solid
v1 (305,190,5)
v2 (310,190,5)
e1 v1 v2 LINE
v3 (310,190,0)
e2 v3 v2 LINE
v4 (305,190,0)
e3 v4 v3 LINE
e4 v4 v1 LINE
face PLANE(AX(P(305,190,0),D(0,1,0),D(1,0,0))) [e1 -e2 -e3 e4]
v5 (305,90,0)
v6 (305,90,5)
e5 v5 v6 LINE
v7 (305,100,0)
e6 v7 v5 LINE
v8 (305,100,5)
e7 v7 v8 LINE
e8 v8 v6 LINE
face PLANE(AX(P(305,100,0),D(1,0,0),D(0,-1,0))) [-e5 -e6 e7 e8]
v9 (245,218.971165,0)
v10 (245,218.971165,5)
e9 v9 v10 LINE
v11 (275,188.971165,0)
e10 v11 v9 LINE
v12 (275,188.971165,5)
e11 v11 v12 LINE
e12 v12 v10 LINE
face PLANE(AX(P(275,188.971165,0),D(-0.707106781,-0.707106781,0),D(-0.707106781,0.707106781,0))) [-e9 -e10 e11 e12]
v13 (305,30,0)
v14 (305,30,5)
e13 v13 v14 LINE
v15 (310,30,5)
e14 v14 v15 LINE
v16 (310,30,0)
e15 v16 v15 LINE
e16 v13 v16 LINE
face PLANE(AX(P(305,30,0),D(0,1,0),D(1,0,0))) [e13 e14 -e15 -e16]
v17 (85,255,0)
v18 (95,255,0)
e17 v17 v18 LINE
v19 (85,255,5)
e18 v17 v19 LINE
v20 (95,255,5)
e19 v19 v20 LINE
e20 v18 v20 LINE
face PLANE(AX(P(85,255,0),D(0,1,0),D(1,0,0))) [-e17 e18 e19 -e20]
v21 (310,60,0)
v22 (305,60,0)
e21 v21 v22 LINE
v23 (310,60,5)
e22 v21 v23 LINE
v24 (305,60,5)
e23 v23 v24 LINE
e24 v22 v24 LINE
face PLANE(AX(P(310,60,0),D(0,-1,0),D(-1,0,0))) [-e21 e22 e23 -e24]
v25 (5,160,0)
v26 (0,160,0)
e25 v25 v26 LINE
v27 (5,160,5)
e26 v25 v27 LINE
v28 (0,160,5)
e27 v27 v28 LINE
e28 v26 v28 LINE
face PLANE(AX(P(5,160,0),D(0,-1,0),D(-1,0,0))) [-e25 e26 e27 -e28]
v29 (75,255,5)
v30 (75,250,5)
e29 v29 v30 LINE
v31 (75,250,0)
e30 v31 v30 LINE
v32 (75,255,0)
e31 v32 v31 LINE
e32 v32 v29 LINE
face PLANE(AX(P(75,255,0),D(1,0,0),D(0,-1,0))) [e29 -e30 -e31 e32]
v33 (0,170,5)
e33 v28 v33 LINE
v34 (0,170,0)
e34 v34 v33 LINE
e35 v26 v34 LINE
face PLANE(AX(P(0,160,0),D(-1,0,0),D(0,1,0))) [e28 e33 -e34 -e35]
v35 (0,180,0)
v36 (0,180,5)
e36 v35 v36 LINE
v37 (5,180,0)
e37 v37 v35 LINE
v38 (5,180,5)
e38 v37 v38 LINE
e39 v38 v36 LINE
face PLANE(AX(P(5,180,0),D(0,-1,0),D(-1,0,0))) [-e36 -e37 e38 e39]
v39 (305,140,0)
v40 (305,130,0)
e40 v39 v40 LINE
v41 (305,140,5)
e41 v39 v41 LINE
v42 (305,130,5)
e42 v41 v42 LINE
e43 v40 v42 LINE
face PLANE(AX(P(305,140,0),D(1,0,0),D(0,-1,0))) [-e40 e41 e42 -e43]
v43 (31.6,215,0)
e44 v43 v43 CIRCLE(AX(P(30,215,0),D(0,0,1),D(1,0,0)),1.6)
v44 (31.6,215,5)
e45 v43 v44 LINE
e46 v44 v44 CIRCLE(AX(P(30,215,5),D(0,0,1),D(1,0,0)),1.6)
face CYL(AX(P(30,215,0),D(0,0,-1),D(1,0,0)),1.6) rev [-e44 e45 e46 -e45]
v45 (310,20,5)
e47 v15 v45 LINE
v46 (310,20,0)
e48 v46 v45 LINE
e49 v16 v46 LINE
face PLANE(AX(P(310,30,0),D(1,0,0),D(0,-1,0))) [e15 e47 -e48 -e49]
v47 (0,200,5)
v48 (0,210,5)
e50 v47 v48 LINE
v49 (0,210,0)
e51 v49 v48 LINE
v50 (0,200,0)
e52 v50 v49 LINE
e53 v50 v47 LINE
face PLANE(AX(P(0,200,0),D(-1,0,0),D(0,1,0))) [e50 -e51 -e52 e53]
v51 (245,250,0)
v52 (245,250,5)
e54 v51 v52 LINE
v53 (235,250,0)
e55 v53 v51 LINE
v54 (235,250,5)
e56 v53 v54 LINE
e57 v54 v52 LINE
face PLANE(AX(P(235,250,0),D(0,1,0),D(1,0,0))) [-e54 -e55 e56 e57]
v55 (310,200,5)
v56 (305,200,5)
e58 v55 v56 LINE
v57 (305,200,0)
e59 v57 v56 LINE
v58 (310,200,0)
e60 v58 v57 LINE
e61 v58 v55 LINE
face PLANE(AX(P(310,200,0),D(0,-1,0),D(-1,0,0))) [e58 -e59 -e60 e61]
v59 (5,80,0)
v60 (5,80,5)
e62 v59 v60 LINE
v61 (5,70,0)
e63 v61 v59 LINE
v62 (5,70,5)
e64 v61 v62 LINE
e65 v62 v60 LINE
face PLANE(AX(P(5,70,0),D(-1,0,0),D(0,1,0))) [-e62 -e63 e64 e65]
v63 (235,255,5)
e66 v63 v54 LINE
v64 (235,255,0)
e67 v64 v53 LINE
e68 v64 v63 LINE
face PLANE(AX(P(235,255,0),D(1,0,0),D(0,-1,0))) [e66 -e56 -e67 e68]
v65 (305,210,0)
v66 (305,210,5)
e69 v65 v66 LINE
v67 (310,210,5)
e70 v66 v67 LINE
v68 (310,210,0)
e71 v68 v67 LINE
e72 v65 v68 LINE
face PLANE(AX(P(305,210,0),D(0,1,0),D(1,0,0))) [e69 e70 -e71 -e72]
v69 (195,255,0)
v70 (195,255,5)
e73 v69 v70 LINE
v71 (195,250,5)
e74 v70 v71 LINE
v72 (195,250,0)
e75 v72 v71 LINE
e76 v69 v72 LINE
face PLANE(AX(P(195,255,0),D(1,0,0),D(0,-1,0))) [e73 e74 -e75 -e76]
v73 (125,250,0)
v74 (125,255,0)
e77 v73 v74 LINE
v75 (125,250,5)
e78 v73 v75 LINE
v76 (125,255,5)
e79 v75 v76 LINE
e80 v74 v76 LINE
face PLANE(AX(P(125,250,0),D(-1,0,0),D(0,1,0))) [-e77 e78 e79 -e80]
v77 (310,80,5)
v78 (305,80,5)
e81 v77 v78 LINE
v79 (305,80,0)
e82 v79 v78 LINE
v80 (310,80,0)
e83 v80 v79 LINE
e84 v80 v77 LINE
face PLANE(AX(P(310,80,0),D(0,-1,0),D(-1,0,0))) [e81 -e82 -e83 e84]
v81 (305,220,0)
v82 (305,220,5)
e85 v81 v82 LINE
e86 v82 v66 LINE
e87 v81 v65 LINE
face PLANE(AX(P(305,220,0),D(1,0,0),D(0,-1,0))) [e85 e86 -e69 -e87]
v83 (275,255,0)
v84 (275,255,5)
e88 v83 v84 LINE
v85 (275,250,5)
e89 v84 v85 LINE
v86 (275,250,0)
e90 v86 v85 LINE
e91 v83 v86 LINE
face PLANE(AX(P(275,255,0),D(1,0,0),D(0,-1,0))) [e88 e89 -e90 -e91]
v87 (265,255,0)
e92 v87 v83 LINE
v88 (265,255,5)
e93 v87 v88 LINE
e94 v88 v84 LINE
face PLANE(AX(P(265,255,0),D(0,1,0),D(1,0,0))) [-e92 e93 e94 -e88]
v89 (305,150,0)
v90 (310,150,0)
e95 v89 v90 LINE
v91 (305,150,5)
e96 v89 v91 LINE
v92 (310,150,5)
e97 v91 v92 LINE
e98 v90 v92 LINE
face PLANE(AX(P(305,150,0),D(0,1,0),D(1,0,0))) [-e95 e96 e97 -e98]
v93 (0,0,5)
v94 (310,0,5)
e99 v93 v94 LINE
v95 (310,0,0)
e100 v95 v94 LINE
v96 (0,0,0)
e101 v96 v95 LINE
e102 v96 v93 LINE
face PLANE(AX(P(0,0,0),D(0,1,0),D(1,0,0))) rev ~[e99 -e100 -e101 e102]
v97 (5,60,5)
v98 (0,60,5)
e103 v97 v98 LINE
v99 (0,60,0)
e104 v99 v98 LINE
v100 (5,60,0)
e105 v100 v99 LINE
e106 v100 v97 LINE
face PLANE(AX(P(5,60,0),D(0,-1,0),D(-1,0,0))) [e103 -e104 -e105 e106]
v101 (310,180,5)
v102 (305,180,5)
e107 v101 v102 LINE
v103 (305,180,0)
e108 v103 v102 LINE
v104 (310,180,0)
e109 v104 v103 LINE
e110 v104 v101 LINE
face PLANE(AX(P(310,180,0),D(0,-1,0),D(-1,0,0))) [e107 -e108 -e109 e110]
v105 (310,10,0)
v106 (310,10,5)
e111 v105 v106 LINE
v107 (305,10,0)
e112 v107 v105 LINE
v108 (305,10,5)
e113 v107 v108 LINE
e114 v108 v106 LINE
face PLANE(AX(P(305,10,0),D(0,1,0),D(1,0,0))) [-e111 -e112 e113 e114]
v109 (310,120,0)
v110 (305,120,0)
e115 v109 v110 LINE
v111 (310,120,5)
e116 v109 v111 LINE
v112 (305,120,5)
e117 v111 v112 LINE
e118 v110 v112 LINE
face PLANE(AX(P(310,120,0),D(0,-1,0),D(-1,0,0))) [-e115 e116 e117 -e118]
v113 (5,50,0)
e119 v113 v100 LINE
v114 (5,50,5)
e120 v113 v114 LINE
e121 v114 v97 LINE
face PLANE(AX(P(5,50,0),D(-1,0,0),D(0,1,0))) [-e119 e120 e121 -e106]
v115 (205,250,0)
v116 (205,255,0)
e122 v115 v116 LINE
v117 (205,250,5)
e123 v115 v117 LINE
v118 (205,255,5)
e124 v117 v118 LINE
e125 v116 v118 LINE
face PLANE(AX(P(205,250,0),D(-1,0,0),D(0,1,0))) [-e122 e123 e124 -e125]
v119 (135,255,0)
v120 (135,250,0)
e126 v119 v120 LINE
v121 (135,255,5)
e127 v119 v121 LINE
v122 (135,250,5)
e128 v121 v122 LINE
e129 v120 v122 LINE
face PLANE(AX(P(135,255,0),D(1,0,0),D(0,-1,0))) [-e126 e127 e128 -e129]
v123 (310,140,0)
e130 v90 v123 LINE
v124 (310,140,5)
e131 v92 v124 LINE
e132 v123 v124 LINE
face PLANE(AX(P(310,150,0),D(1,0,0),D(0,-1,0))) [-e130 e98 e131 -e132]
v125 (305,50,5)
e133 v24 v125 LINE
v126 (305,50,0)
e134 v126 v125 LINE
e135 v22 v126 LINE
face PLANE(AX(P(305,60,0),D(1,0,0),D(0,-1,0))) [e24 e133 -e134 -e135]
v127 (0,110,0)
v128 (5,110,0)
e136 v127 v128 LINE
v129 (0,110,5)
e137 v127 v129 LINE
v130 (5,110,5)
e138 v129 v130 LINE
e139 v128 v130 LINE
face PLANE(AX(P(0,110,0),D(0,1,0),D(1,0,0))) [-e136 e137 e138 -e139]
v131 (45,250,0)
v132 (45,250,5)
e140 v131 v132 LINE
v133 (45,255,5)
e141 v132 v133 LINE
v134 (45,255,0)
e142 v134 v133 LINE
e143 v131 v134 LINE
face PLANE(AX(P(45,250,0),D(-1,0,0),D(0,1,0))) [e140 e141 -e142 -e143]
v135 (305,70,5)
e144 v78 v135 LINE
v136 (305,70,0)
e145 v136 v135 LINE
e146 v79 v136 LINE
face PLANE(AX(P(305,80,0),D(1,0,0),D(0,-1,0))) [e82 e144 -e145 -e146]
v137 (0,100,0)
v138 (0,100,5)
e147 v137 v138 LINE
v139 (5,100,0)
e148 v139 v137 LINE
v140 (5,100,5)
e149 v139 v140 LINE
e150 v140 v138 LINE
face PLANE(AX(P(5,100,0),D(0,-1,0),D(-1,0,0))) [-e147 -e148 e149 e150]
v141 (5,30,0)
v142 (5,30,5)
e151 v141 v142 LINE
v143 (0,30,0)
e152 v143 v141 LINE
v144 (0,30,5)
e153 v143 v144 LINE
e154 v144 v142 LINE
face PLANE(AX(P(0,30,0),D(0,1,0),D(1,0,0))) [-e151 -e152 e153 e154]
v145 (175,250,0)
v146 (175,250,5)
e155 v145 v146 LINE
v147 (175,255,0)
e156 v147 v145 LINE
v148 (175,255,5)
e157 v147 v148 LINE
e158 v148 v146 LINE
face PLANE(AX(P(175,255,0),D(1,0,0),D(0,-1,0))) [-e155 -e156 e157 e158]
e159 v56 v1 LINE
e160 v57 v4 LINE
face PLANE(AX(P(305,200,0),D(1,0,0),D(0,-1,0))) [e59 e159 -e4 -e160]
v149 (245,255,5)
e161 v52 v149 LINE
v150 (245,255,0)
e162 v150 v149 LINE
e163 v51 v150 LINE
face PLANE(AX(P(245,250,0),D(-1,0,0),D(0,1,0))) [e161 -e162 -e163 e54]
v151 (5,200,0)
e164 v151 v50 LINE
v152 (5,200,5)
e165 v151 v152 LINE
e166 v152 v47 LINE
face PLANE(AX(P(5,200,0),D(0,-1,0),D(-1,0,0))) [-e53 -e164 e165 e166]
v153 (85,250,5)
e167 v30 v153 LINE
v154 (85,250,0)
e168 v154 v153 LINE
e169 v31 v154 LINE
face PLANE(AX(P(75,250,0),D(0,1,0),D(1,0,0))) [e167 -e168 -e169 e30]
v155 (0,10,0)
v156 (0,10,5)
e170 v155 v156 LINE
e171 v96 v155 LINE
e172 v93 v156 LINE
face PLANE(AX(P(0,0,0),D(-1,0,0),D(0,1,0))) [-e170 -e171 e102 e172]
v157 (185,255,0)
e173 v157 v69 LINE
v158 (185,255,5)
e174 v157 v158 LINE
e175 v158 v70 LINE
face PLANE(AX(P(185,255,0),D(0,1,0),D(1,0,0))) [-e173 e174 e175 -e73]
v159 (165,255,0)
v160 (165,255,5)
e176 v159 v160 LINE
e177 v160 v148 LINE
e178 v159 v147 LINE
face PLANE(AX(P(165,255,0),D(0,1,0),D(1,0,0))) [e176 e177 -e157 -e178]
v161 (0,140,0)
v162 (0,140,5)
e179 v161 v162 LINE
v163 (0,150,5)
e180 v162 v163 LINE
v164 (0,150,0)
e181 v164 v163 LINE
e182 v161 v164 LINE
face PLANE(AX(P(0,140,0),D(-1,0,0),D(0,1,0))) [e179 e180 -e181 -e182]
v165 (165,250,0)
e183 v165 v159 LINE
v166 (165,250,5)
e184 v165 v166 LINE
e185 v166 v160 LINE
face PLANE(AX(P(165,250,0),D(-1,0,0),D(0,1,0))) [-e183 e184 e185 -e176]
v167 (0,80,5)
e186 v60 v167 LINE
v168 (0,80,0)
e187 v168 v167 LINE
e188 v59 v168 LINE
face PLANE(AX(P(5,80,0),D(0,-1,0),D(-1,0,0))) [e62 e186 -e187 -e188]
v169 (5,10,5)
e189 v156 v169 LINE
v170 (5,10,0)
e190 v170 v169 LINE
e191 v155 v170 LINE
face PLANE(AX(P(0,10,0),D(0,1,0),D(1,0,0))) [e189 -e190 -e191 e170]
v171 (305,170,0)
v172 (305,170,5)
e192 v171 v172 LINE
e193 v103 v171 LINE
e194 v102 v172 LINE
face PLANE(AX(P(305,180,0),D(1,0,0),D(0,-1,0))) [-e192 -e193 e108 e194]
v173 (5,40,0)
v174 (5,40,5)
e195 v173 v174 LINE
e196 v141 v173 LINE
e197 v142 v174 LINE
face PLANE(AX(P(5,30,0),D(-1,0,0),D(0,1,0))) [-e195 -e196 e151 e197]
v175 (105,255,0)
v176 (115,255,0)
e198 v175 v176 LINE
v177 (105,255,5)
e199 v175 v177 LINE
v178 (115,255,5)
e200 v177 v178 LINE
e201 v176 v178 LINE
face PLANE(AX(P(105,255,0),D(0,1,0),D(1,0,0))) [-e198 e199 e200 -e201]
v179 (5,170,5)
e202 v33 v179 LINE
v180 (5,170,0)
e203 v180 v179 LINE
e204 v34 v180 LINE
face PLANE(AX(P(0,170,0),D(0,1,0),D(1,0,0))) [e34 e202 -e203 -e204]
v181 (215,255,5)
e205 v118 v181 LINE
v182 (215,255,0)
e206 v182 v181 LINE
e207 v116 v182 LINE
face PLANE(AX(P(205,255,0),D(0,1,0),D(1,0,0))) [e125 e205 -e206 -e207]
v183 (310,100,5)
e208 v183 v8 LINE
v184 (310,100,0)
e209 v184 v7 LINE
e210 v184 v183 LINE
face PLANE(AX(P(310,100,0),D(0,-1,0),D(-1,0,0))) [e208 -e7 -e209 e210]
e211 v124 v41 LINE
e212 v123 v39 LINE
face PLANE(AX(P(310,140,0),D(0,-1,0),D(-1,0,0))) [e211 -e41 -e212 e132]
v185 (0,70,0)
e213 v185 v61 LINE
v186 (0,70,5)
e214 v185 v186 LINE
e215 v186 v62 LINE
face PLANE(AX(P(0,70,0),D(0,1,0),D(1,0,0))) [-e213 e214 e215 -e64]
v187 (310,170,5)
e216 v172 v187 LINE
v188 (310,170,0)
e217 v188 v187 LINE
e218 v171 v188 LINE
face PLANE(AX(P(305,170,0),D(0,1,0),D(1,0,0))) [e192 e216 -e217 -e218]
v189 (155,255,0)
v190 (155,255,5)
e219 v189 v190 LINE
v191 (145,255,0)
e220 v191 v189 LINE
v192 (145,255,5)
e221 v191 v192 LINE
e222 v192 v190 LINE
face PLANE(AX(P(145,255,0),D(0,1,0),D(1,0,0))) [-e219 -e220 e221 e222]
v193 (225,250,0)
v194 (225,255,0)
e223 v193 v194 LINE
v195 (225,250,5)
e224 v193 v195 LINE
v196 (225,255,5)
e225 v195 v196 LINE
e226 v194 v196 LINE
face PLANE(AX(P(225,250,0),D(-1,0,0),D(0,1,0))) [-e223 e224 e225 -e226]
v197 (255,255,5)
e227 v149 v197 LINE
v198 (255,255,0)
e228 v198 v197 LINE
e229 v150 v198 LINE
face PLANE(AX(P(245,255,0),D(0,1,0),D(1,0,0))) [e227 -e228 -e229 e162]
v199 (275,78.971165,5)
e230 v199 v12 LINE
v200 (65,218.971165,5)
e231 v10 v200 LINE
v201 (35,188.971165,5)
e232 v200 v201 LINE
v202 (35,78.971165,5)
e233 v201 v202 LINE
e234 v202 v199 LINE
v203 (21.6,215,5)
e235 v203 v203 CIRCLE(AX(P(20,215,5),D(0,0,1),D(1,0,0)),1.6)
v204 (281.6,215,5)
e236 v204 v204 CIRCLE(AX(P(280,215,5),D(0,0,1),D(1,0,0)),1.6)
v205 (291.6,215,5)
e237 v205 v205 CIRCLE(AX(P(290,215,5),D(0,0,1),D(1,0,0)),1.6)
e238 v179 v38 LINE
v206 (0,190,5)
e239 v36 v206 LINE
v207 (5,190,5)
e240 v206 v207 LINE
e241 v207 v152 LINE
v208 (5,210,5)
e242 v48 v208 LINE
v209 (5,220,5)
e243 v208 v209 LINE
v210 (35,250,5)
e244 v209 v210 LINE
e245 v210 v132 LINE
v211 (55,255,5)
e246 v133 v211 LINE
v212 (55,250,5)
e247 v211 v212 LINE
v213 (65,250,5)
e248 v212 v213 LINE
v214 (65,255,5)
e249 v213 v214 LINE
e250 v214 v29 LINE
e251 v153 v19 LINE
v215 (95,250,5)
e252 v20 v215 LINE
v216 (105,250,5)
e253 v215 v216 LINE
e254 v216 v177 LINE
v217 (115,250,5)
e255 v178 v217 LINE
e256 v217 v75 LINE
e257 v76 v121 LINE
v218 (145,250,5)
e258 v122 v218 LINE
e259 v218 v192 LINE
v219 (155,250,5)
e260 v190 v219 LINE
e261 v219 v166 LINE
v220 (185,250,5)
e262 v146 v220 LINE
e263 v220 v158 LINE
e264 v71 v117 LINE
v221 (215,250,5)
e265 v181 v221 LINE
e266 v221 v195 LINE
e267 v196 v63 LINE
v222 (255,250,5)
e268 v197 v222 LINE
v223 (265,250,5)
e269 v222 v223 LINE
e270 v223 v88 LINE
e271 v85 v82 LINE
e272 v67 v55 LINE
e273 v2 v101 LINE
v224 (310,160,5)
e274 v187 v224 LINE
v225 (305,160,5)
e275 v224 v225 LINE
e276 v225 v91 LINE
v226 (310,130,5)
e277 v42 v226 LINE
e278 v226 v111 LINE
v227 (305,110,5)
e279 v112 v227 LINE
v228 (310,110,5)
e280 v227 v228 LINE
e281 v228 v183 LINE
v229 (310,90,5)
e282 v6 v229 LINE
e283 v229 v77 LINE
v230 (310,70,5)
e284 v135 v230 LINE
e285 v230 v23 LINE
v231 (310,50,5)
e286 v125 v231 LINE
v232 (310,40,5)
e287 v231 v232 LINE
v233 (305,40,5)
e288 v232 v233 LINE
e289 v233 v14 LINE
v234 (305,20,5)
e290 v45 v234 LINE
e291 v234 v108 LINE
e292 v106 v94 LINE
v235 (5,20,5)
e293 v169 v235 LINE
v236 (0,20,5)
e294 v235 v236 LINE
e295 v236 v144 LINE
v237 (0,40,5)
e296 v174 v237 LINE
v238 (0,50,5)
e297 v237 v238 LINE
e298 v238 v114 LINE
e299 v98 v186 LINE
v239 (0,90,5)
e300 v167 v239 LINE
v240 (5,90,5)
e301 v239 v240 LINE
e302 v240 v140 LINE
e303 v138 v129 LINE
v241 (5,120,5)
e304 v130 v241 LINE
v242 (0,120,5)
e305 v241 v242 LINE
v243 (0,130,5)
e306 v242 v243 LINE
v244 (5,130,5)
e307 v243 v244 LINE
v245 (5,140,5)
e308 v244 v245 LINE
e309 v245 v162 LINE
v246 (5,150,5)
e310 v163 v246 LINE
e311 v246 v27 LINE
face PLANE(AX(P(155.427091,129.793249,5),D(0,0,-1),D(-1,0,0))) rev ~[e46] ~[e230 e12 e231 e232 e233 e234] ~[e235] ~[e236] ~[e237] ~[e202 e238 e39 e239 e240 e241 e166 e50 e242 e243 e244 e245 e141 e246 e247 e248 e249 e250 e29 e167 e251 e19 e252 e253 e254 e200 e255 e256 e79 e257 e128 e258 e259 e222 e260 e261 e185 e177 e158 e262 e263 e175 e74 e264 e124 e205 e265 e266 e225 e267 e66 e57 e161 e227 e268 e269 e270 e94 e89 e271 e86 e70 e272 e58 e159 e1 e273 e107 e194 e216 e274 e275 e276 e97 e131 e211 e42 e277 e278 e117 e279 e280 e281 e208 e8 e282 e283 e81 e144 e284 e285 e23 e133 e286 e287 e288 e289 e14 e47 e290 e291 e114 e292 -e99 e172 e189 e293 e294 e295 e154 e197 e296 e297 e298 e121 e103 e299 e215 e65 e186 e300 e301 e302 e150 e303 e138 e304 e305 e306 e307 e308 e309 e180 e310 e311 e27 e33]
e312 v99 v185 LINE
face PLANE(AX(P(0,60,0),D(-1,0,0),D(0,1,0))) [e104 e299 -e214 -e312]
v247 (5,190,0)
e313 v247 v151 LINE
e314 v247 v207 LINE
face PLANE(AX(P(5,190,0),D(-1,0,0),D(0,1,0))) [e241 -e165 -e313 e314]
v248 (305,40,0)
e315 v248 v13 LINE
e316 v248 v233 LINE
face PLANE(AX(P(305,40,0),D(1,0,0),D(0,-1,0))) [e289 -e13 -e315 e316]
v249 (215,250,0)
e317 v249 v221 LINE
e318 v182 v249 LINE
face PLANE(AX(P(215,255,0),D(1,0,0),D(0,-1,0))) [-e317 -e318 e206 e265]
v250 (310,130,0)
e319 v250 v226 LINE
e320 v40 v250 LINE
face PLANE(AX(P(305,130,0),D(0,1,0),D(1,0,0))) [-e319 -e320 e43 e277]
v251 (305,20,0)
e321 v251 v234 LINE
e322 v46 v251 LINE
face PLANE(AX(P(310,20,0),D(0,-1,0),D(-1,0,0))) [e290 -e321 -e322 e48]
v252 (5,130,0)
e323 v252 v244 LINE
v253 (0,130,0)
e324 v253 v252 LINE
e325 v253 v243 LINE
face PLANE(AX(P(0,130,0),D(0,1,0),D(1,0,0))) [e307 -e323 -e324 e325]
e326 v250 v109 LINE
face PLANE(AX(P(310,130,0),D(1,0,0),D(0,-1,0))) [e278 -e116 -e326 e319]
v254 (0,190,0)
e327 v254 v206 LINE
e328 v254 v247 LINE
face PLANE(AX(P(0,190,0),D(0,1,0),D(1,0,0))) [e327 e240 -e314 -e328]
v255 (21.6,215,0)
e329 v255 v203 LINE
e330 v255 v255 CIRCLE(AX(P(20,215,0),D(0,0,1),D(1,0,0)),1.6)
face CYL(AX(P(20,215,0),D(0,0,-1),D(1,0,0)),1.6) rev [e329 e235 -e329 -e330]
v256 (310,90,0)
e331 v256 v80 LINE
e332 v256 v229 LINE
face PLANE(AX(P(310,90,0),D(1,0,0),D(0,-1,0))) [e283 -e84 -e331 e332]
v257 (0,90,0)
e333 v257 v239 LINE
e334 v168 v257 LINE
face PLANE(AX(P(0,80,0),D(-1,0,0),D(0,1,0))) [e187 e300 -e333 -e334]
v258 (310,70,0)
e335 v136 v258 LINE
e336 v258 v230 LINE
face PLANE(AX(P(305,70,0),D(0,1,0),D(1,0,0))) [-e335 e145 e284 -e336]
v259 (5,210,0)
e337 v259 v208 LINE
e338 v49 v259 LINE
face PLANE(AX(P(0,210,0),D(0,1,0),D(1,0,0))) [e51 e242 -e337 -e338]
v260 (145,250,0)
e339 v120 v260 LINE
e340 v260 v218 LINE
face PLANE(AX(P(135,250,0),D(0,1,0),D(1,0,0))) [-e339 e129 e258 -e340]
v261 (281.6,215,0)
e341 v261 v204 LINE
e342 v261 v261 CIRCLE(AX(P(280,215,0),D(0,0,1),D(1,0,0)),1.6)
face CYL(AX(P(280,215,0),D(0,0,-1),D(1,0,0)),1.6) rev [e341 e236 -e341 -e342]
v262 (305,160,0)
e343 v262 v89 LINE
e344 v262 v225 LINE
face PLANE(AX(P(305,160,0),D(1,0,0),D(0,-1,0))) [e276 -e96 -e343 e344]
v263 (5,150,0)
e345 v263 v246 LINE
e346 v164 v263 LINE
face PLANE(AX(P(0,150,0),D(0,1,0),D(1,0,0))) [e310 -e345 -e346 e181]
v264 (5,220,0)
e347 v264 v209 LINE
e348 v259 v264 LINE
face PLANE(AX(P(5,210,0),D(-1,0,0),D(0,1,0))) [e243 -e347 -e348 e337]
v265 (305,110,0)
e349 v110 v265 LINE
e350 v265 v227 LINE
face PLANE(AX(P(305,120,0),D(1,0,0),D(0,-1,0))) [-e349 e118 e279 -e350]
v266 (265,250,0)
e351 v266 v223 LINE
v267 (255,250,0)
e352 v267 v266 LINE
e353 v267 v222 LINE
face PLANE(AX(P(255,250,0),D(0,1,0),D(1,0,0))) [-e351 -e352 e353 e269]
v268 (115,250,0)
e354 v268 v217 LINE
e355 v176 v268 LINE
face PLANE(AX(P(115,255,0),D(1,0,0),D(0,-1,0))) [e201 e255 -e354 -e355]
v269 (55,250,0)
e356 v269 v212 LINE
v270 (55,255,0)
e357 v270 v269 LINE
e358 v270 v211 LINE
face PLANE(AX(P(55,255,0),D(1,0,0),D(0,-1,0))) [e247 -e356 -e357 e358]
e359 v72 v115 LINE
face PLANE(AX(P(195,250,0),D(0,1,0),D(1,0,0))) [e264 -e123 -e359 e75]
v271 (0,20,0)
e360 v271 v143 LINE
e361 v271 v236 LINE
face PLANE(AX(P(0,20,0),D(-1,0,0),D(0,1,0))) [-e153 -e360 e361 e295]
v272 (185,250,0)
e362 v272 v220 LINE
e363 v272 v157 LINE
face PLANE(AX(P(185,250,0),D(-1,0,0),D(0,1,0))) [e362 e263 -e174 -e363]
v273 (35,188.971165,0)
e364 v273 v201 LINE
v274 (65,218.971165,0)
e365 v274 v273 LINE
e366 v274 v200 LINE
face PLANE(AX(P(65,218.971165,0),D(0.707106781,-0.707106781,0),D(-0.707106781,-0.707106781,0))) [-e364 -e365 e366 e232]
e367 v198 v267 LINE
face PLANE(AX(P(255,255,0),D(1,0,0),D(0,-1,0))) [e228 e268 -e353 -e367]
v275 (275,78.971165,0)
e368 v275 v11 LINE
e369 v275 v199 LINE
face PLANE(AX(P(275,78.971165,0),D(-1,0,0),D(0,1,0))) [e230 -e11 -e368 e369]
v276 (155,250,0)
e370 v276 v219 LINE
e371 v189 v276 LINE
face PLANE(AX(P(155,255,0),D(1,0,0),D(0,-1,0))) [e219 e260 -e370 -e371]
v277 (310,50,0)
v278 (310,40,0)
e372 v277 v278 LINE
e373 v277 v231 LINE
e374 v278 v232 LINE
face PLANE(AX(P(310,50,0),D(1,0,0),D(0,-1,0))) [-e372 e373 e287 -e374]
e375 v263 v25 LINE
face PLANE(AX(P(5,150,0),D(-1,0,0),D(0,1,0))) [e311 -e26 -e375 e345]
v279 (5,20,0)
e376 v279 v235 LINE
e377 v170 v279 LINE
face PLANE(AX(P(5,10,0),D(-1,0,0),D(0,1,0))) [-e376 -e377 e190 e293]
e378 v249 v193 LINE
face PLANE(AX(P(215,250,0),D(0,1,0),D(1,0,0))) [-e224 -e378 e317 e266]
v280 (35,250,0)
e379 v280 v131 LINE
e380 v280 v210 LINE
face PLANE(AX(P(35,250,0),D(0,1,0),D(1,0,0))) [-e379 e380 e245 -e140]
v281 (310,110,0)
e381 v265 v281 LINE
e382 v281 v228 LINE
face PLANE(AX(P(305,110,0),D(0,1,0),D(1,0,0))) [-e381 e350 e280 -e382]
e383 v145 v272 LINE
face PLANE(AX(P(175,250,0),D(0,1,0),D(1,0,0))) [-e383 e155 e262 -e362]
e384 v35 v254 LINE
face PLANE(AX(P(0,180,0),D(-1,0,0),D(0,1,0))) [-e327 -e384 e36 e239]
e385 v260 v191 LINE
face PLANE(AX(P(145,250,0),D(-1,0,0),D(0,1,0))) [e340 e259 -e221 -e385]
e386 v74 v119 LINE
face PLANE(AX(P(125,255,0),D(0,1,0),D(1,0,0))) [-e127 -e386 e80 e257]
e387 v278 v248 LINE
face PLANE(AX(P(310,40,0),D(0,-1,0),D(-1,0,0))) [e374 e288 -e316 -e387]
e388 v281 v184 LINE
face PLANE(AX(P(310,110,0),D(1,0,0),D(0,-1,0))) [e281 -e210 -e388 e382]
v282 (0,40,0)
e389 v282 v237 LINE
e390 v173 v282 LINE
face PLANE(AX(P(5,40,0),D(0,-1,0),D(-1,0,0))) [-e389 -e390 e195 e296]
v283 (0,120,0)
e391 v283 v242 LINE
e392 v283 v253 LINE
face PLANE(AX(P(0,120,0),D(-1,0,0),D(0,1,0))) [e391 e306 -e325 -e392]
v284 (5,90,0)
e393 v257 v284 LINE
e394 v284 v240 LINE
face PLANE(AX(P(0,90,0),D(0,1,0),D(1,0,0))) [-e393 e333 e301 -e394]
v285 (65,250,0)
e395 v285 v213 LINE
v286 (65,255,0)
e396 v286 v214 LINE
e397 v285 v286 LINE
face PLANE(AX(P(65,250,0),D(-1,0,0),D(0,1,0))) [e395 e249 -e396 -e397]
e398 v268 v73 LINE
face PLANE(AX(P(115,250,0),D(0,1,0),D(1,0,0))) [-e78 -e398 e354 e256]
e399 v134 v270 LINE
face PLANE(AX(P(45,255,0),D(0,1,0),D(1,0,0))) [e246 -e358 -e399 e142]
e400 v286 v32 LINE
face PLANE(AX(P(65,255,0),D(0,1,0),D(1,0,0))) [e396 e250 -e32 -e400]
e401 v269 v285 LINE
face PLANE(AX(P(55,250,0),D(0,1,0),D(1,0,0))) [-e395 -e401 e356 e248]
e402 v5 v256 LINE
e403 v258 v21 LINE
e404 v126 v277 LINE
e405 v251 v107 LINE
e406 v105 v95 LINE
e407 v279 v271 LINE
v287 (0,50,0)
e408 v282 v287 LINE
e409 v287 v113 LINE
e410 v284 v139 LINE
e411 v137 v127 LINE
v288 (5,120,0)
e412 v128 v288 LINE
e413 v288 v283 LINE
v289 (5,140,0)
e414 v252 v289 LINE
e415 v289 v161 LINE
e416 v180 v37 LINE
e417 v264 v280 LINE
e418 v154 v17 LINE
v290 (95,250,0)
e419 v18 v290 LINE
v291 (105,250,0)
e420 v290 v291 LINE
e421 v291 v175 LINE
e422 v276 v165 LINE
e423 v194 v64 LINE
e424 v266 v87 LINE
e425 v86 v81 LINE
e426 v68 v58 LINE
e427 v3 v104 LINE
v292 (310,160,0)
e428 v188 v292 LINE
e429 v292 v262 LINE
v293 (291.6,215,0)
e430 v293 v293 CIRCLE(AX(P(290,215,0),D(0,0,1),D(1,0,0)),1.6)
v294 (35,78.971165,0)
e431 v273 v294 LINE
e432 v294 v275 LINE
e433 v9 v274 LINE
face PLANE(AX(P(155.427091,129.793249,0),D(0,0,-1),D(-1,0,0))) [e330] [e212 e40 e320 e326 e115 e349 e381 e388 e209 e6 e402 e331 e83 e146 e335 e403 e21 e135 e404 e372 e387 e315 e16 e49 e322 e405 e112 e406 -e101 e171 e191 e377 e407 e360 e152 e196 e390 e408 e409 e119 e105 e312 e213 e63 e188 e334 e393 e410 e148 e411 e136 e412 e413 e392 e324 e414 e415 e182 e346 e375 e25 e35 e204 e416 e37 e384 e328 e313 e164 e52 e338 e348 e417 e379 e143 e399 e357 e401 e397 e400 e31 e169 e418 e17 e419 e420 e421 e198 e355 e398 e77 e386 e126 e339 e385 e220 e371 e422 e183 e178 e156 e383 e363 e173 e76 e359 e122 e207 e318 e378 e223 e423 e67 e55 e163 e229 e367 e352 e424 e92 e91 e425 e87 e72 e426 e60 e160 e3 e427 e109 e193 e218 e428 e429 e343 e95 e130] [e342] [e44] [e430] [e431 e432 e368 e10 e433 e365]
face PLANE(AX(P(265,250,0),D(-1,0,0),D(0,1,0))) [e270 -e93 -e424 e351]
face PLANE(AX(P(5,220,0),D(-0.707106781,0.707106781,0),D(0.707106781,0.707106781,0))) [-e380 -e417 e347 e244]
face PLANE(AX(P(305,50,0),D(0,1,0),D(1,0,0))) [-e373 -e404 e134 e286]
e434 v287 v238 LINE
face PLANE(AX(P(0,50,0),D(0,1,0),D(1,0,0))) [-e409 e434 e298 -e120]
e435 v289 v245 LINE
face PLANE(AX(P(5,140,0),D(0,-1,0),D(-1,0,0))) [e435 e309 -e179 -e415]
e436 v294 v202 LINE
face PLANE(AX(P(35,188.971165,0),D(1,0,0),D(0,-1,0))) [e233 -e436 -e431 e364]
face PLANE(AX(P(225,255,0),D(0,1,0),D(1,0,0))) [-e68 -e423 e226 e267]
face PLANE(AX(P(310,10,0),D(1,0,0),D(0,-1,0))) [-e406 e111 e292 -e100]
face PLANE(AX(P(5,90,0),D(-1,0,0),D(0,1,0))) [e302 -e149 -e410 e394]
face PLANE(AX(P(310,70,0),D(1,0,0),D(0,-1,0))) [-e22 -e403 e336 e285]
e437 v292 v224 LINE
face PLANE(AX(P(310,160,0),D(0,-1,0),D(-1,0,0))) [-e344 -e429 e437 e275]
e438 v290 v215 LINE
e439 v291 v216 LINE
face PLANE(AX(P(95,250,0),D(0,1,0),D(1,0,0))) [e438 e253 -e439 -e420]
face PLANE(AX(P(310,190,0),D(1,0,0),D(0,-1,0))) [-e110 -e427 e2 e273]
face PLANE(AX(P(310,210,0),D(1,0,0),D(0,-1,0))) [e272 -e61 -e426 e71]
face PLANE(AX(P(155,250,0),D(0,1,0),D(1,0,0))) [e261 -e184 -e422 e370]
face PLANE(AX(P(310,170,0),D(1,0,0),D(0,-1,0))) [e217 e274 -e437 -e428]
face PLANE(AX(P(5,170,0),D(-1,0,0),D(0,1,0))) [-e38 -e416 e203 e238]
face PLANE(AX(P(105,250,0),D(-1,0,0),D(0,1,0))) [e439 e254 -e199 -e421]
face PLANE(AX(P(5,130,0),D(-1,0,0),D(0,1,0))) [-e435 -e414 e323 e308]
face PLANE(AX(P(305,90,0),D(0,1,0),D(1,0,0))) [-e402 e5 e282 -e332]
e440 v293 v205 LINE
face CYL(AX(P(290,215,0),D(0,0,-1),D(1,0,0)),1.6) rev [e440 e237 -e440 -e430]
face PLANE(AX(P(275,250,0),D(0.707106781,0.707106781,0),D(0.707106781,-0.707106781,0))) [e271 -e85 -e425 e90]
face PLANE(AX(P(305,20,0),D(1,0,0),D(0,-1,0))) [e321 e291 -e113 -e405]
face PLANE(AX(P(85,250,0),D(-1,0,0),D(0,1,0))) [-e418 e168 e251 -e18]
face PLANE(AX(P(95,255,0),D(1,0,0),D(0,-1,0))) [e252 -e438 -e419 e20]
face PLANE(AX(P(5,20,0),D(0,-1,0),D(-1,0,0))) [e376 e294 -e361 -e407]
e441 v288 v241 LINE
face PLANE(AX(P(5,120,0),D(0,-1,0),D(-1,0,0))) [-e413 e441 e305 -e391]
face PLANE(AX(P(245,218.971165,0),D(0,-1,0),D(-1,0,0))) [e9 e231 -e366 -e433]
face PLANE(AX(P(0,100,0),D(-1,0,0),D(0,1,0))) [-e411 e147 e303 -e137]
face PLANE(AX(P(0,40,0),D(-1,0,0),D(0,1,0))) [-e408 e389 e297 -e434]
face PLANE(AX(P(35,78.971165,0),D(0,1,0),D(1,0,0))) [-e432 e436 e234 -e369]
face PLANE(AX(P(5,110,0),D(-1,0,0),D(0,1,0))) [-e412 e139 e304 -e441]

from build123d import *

# Parameters (mm, degrees)
SKIZZE1_R                       = 1.6
AUFSATZ_LINEAR_AUSTRAGEN1_DEPTH = 5


with BuildPart() as part:
    # Skizze1 → Aufsatz-Linear austragen1 (new body)
    with BuildSketch(Plane.XY):
        Polygon((5, 10), (5, 20), (0, 20), (0, 30), (5, 30), (5, 40), (0, 40), (0, 50), (5, 50), (5, 60), (0, 60), (0, 70), (5, 70), (5, 80), (0, 80), (0, 90), (5, 90), (5, 100), (0, 100), (0, 110), (5, 110), (5, 120), (0, 120), (0, 130), (5, 130), (5, 140), (0, 140), (0, 150), (5, 150), (5, 160), (0, 160), (0, 170), (5, 170), (5, 180), (0, 180), (0, 190), (5, 190), (5, 200), (0, 200), (0, 210), (5, 210), (5, 220), (35, 250), (45, 250), (45, 255), (55, 255), (55, 250), (65, 250), (65, 255), (75, 255), (75, 250), (85, 250), (85, 255), (95, 255), (95, 250), (105, 250), (105, 255), (115, 255), (115, 250), (125, 250), (125, 255), (135, 255), (135, 250), (145, 250), (145, 255), (155, 255), (155, 250), (165, 250), (165, 255), (175, 255), (175, 250), (185, 250), (185, 255), (195, 255), (195, 250), (205, 250), (205, 255), (215, 255), (215, 250), (225, 250), (225, 255), (235, 255), (235, 250), (245, 250), (245, 255), (255, 255), (255, 250), (265, 250), (265, 255), (275, 255), (275, 250), (305, 220), (305, 210), (310, 210), (310, 200), (305, 200), (305, 190), (310, 190), (310, 180), (305, 180), (305, 170), (310, 170), (310, 160), (305, 160), (305, 150), (310, 150), (310, 140), (305, 140), (305, 130), (310, 130), (310, 120), (305, 120), (305, 110), (310, 110), (310, 100), (305, 100), (305, 90), (310, 90), (310, 80), (305, 80), (305, 70), (310, 70), (310, 60), (305, 60), (305, 50), (310, 50), (310, 40), (305, 40), (305, 30), (310, 30), (310, 20), (305, 20), (305, 10), (310, 10), (310, 0), (305, 0), (5, 0), (0, 0), (0, 10), align=None)
        with Locations((290, 214.999999999)):
            Circle(SKIZZE1_R, mode=Mode.SUBTRACT)
        with Locations((280, 214.999999999)):
            Circle(SKIZZE1_R, mode=Mode.SUBTRACT)
        with Locations((20, 215)):
            Circle(SKIZZE1_R, mode=Mode.SUBTRACT)
        with Locations((30, 215)):
            Circle(SKIZZE1_R, mode=Mode.SUBTRACT)
        Polygon((275, 188.971165398), (245, 218.971165398), (65, 218.971165398), (35, 188.971165398), (35, 78.971165398), (275, 78.971165398), align=None, mode=Mode.SUBTRACT)
    extrude(amount=AUFSATZ_LINEAR_AUSTRAGEN1_DEPTH)


solid = part.part
